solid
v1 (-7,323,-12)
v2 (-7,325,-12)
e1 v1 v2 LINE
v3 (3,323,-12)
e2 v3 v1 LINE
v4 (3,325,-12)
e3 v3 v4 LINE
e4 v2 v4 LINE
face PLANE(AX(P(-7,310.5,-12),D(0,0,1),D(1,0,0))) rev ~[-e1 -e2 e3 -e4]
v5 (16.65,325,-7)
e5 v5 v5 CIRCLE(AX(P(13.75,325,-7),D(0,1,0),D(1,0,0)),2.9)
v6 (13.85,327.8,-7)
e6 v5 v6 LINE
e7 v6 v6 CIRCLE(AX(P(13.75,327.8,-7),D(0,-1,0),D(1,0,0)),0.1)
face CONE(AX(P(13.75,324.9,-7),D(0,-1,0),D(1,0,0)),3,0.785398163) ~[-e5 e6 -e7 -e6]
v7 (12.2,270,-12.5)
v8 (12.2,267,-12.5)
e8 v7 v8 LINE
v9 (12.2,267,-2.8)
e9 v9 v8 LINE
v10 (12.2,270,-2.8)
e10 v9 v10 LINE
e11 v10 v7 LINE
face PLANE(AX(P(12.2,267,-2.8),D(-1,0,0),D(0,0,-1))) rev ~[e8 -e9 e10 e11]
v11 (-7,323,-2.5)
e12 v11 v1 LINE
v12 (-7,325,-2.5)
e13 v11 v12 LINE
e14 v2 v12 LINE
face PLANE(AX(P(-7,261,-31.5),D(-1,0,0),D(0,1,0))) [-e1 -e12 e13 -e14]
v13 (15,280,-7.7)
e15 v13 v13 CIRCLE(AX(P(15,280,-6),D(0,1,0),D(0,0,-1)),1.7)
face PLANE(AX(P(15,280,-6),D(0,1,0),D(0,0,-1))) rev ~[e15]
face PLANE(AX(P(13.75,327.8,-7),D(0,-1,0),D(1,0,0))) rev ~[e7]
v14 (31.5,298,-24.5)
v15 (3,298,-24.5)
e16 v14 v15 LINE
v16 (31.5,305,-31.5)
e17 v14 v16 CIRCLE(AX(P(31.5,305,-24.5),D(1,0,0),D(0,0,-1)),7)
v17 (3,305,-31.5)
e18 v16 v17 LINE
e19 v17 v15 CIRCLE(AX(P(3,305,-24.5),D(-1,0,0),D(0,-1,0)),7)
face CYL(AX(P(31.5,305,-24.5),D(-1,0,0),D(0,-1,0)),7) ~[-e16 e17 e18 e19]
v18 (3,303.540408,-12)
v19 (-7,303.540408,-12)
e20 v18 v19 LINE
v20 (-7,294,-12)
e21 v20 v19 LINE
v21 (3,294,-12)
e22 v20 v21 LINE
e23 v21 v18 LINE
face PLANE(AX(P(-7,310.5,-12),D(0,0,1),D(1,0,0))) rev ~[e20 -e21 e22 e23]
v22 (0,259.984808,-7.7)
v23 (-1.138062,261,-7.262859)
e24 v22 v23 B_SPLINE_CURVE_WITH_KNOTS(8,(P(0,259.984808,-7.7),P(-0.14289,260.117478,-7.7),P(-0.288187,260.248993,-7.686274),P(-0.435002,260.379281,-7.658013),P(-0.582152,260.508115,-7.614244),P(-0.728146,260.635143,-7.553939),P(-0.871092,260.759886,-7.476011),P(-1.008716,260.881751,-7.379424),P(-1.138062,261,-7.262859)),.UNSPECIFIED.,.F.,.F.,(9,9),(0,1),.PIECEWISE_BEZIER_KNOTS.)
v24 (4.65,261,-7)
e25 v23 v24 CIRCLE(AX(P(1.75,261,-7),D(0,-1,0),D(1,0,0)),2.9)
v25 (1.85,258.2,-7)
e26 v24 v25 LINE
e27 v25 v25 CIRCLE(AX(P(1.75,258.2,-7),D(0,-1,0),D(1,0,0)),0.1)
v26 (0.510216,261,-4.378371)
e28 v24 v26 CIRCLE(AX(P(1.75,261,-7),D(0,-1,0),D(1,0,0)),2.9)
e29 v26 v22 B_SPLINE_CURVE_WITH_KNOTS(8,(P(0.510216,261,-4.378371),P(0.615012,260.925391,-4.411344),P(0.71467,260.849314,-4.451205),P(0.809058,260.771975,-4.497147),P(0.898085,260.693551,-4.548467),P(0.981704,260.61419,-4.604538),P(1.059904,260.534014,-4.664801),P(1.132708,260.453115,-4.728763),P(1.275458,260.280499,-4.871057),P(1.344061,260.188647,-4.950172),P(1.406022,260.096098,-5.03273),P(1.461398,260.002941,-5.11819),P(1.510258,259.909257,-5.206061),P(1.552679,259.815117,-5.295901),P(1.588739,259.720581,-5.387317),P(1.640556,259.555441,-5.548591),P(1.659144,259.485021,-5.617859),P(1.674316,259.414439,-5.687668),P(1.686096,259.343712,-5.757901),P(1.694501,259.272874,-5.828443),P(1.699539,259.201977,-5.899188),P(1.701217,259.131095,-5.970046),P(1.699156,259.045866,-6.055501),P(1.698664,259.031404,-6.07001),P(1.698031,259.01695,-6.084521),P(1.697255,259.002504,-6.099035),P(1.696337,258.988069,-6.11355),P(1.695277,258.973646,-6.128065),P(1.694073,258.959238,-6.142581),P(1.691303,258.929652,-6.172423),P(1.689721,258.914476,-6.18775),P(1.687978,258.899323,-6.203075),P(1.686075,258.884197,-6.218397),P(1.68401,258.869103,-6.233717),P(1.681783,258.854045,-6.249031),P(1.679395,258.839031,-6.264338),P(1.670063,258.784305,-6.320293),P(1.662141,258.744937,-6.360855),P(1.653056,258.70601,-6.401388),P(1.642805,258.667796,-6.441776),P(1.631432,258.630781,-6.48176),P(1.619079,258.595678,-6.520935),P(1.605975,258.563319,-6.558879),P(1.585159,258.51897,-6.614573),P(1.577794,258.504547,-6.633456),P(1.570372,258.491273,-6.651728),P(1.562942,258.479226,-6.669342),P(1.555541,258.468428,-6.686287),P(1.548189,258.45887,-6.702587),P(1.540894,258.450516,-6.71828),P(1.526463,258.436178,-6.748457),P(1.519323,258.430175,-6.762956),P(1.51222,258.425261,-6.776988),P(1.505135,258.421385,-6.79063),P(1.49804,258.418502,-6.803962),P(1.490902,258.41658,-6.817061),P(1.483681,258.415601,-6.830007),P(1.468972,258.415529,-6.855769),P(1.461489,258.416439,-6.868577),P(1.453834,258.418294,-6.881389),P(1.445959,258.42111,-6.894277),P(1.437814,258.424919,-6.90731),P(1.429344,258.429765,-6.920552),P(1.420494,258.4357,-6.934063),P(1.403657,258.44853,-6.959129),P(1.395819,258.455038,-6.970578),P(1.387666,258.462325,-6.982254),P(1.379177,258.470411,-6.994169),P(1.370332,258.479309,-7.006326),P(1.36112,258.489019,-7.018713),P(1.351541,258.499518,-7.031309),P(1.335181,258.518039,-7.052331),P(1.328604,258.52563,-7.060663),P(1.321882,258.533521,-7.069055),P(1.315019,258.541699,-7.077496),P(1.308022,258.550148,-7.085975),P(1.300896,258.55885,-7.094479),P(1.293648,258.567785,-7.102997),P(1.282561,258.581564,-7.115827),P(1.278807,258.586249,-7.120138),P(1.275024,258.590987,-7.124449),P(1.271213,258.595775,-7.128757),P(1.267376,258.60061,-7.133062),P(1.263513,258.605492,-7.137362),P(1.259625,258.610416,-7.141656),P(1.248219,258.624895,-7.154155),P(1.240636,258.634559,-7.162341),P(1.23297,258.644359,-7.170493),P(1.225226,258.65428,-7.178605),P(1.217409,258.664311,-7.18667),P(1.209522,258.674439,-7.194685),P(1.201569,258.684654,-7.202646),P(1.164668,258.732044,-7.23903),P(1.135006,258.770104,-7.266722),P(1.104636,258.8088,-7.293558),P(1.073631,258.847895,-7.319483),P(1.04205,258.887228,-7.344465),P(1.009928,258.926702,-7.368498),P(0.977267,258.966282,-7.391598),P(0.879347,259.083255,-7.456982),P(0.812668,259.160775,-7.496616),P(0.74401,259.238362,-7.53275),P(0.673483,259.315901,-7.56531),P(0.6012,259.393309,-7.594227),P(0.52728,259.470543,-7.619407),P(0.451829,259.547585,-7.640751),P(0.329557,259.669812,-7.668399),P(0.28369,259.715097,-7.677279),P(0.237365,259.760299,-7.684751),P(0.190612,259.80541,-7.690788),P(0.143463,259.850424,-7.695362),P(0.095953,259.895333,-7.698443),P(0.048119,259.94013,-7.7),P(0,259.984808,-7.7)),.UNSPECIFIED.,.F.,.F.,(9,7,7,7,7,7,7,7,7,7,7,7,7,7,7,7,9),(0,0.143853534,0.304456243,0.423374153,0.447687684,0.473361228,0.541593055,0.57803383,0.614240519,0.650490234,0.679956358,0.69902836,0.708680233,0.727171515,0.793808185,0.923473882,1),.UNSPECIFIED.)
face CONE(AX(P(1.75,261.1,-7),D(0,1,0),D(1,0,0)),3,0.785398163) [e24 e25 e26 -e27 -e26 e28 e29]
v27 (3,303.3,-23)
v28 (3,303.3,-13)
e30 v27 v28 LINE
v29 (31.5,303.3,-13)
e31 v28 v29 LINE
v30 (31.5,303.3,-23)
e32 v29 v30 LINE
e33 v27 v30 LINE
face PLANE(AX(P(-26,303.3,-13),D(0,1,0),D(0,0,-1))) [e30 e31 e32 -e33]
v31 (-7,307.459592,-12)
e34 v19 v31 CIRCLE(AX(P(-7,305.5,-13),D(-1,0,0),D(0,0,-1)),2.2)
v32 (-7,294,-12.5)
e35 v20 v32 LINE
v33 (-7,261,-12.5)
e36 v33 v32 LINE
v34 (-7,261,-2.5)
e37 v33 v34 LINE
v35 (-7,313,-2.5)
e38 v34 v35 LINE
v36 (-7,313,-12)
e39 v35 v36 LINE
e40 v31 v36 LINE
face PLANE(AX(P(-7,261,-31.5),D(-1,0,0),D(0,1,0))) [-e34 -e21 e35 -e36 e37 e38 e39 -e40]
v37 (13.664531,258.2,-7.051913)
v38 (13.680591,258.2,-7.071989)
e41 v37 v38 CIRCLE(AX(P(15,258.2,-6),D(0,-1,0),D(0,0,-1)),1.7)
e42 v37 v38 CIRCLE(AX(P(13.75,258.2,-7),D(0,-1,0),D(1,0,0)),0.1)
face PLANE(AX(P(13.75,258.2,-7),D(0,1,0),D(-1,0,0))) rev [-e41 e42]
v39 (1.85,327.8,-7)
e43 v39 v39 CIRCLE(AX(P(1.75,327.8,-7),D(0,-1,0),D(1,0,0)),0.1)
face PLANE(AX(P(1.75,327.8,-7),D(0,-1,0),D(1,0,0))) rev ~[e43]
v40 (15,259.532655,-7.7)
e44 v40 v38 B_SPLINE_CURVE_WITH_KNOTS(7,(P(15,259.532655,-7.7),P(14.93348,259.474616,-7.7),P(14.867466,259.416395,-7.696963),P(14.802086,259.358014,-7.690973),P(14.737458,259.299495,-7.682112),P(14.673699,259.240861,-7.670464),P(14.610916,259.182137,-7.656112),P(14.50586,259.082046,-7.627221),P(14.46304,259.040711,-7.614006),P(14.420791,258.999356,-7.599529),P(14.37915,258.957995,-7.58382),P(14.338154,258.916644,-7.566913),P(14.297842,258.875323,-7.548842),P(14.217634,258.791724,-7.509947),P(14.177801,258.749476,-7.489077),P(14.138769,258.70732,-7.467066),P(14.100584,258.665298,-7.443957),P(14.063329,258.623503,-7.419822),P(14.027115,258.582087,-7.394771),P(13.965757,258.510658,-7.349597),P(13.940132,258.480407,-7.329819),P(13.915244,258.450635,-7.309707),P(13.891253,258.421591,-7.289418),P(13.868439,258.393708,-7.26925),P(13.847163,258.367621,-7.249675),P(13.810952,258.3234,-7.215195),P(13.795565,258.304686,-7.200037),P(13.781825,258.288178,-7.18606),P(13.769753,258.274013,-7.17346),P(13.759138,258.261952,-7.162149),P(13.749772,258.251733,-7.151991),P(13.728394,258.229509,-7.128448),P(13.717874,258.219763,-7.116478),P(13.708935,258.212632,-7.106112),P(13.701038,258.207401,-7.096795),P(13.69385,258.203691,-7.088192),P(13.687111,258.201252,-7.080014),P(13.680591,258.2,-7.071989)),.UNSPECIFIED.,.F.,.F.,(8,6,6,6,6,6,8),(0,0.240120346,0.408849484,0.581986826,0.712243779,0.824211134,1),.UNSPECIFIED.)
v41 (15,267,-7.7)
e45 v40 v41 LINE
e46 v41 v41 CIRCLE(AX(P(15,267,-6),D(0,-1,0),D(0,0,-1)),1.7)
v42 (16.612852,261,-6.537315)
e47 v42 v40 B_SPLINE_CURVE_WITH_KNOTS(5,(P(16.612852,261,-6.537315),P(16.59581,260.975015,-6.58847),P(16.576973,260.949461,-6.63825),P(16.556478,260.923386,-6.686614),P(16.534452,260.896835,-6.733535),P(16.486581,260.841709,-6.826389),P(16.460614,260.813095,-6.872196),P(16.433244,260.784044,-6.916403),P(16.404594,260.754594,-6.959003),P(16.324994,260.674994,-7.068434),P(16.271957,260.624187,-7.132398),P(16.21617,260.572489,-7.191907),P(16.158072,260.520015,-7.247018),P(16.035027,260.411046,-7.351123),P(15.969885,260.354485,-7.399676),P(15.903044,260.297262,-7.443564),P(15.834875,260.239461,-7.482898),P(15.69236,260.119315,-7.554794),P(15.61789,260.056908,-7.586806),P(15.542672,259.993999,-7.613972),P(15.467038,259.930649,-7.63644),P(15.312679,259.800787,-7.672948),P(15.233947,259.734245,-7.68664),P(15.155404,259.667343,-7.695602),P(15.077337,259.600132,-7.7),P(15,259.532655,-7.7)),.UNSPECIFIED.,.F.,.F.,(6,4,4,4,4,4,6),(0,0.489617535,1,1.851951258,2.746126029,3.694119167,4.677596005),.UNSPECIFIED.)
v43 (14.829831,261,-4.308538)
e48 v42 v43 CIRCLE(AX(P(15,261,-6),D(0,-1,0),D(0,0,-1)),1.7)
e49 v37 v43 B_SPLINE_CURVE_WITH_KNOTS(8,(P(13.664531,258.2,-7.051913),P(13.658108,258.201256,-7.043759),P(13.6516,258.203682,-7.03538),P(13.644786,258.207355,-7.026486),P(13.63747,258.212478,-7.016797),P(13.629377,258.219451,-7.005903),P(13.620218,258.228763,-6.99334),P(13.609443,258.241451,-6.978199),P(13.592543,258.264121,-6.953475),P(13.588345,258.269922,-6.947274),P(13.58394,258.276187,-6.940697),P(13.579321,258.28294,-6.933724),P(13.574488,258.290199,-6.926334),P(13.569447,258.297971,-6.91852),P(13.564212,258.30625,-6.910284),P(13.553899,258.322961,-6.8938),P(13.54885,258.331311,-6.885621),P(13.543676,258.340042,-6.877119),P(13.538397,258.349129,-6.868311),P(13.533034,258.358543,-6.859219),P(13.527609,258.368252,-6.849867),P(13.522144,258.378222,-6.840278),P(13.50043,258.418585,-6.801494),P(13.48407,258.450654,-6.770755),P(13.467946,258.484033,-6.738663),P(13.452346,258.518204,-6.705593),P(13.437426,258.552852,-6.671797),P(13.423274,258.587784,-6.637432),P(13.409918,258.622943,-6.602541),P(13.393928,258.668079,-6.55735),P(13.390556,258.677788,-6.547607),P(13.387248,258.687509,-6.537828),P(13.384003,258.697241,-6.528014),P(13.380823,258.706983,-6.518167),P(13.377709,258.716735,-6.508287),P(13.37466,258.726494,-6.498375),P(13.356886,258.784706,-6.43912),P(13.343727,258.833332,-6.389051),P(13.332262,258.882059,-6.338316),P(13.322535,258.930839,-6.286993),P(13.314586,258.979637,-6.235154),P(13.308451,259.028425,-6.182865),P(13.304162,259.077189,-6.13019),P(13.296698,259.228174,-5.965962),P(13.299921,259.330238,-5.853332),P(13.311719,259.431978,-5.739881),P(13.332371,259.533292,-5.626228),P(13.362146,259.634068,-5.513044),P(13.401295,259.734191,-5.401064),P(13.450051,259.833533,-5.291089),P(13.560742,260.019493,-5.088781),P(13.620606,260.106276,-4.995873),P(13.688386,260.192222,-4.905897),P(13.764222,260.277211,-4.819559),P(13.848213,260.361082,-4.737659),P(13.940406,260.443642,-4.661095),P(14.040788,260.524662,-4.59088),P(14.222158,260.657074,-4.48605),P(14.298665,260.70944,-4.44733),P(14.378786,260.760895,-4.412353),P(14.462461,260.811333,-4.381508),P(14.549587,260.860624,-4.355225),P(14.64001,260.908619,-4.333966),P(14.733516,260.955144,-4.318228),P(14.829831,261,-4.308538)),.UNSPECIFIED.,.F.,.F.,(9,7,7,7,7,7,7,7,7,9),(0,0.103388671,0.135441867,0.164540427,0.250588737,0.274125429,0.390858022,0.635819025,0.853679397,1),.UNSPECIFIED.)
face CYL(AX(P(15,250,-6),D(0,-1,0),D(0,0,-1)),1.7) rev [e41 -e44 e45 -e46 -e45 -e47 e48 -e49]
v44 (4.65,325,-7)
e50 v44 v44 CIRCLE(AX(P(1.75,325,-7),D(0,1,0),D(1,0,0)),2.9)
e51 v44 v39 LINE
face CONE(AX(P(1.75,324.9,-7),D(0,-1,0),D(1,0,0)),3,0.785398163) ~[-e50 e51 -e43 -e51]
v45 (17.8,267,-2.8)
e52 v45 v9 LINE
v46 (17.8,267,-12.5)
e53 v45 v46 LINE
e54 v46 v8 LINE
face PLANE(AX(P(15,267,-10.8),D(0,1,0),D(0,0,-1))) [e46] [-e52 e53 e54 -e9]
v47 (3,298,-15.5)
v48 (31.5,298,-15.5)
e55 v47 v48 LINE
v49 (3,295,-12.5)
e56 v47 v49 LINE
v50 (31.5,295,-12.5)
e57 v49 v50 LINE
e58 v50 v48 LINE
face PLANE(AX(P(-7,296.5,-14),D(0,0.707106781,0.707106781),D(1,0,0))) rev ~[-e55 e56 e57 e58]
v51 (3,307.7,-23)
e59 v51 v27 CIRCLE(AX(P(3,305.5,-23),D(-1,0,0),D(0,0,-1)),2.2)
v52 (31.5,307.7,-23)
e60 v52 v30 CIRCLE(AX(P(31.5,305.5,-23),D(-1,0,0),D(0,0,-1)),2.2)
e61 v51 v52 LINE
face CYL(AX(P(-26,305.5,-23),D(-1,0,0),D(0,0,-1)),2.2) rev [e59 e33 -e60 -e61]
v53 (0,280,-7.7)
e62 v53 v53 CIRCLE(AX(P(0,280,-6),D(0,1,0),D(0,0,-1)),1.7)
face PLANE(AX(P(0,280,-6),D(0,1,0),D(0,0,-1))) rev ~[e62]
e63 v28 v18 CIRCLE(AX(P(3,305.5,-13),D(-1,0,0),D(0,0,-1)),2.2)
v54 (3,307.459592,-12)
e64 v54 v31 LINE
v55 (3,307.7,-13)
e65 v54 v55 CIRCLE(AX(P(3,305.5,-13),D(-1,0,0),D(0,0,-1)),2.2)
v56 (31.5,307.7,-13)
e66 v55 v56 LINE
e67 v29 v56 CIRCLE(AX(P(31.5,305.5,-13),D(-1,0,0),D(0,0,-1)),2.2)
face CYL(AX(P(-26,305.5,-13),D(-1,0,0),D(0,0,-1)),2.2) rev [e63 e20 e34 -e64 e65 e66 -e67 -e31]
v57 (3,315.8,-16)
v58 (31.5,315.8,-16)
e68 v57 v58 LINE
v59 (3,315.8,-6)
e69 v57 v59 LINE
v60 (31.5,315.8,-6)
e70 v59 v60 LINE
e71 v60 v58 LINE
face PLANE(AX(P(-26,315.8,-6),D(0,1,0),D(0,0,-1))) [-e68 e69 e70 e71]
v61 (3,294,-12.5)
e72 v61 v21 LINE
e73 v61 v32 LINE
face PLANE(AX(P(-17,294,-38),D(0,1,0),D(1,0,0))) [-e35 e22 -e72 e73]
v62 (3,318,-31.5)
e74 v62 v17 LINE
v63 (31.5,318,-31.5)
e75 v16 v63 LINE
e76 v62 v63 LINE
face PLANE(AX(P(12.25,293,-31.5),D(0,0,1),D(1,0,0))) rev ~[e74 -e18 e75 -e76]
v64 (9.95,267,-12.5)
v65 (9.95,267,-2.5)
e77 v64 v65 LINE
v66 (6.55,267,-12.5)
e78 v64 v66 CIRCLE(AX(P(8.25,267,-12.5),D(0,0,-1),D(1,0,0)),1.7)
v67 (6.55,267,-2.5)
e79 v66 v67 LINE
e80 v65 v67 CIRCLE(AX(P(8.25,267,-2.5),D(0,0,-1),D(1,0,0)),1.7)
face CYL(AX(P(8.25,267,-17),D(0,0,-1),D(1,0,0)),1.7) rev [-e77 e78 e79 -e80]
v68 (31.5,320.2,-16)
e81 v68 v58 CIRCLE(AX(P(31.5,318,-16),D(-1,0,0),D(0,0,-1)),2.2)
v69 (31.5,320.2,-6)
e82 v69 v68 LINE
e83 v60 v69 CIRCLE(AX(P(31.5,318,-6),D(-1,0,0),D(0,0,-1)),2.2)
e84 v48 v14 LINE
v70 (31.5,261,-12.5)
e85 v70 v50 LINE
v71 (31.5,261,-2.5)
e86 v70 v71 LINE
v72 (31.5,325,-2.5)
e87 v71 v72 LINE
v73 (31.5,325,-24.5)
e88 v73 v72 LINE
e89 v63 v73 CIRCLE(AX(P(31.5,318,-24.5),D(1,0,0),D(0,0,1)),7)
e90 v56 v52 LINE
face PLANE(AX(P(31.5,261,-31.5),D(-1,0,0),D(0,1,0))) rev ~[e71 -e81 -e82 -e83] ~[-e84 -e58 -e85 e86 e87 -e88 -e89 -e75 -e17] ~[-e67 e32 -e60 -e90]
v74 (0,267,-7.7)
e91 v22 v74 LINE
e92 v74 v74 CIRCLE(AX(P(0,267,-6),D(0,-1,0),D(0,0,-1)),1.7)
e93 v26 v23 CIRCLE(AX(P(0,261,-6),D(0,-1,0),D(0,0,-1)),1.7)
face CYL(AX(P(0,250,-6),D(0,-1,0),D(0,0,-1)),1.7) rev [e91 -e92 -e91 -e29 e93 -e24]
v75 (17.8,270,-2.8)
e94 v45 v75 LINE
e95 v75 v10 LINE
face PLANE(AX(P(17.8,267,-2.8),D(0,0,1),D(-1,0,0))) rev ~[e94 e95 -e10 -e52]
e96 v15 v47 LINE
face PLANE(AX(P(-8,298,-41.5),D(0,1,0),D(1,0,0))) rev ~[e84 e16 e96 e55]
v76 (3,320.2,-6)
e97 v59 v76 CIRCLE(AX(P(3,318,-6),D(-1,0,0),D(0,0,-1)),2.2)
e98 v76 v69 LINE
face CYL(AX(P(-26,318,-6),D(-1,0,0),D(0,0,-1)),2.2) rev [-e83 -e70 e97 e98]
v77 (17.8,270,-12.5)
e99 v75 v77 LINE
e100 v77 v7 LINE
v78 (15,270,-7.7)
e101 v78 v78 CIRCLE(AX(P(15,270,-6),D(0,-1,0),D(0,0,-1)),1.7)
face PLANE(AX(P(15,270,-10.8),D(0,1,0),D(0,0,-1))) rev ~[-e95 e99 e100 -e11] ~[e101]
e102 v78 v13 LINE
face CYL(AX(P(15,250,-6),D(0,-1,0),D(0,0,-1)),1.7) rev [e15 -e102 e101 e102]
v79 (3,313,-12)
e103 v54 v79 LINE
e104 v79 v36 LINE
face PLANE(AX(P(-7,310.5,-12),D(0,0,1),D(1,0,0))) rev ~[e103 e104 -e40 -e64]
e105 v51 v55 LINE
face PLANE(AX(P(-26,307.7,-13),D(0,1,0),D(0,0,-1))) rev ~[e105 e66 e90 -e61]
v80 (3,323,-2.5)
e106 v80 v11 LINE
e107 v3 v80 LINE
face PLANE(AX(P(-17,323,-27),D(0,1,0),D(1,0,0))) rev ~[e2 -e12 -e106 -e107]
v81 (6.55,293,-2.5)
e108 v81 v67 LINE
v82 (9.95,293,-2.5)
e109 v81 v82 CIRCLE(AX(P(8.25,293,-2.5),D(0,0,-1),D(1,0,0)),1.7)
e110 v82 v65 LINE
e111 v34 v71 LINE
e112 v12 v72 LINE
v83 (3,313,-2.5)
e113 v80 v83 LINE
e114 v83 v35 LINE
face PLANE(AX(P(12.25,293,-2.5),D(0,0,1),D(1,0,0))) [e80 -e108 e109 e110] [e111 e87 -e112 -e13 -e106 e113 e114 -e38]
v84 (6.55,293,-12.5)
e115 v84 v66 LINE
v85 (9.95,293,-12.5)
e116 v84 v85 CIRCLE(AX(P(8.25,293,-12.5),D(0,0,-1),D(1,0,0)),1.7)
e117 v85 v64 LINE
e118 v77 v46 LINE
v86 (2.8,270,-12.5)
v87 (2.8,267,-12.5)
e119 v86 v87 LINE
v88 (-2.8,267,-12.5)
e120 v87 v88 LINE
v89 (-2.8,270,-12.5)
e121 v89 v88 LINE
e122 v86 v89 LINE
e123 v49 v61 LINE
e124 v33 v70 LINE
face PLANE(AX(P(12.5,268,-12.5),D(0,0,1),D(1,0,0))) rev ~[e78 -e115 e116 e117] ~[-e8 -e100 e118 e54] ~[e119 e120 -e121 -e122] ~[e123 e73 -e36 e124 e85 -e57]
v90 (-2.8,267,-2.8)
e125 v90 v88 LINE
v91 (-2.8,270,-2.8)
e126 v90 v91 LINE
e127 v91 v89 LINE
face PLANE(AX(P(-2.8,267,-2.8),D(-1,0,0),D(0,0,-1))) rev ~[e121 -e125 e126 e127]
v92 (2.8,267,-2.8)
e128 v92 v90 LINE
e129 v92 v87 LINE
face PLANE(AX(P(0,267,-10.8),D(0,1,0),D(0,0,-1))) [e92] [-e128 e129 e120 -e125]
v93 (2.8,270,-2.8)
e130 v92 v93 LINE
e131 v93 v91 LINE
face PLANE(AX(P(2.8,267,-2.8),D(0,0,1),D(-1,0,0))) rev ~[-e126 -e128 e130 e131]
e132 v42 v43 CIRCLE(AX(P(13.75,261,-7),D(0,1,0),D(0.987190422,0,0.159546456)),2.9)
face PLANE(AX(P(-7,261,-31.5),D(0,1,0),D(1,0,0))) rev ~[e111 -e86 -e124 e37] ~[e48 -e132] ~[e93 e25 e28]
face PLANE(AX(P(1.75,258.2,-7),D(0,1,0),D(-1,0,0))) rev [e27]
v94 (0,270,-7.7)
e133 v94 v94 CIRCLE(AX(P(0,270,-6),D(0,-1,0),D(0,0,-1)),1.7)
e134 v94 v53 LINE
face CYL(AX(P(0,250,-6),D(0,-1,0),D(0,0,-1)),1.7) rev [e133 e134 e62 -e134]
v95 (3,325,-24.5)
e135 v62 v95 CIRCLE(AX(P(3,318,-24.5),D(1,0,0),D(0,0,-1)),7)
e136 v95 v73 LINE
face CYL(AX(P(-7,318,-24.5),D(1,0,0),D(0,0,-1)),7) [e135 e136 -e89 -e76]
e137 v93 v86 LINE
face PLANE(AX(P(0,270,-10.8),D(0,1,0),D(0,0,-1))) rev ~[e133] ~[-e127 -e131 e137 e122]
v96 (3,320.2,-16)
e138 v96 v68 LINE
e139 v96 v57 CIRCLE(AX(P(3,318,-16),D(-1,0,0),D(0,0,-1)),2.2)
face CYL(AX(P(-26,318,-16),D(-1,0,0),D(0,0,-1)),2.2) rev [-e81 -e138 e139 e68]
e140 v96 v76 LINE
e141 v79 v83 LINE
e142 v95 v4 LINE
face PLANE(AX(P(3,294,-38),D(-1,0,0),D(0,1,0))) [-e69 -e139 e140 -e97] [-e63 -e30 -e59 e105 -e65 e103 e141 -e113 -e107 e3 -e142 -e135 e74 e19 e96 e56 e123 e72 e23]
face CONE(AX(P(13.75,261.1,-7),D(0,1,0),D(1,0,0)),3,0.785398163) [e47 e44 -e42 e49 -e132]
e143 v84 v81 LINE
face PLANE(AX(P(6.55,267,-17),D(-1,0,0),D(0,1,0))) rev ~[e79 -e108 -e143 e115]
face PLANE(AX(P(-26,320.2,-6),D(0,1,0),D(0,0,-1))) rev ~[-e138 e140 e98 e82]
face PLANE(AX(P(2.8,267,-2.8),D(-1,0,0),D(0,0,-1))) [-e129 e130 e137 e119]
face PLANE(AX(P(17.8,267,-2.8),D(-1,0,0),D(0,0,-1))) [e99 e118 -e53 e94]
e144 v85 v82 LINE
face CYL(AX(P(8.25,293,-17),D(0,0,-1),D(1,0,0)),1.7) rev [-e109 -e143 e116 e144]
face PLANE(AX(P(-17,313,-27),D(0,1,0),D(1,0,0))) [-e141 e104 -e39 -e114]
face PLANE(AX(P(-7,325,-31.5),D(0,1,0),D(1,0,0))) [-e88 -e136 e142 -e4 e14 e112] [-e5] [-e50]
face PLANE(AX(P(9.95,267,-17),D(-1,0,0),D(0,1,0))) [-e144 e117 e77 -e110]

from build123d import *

# Parameters (mm, degrees)
BOX005009018_W            = 20
BOX005009018_H            = 10
BOX005009018_DEPTH        = 26
BOX005009017_W            = 20
BOX005009017_H            = 33
BOX005009017_DEPTH        = 26
CYLINDER027_R             = 3
CYLINDER027_DEPTH         = 4
BOX005009016_W            = 16
BOX005009016_H            = 5.6
BOX005009016_DEPTH        = 3
CYLINDER026_R             = 1.7
CYLINDER026_DEPTH         = 30
FUSION024_PITCH_ANGLE     = 90
FUSION024_PLACEMENT_ANGLE = 90
FUSION023_PITCH_ANGLE     = 90
FUSION023_PLACEMENT_ANGLE = 90
CYLINDER025_R             = 1.7
CYLINDER025_DEPTH         = 20
BOX005009015_W            = 3.4
BOX005009015_H            = 26
BOX005009015_DEPTH        = 20
CYLINDER024_R             = 1.7
CYLINDER024_DEPTH         = 20
BOX005009009_W            = 10
BOX005009009_H            = 4.4
BOX005009009_DEPTH        = 70
CYLINDER015_R             = 2.2
CYLINDER015_DEPTH         = 70
CYLINDER014_R             = 2.2
CYLINDER014_DEPTH         = 70
FUSION009_PITCH_ANGLE     = 90
FUSION011_PITCH_ANGLE     = 90
CYLINDER022_R             = 3
CYLINDER022_DEPTH         = 6
CYLINDER022_ROLL_ANGLE    = 90
CHAMFER014_SIZE           = 2.9
CHAMFER012_SIZE           = 2.9
CHAMFER010_SIZE           = 2.9
CHAMFER008_SIZE           = 2.9
BOX005009011_W            = 41
BOX005009011_H            = 60
BOX005009011_DEPTH        = 29
BOX005009010_W            = 38.5
BOX005009010_H            = 64
BOX005009010_DEPTH        = 29
CHAMFER026_SIZE           = 3
FILLET003_R               = 7
FILLET004_R               = 7


with BuildPart() as cube005:
    # Box005009018 → Box005009018 (new body)
    with BuildSketch(Plane(origin=(-17, 313, -27), x_dir=(1, 0, 0), z_dir=(0, 0, 1))):
        with Locations((10, 5)):
            Rectangle(BOX005009018_W, BOX005009018_H)
    extrude(amount=BOX005009018_DEPTH)


with BuildPart() as fusion027:
    # Box005009017 → Box005009017 (new body)
    with BuildSketch(Plane(origin=(-17, 294, -38), x_dir=(1, 0, 0), z_dir=(0, 0, 1))):
        with Locations((10, 16.5)):
            Rectangle(BOX005009017_W, BOX005009017_H)
    extrude(amount=BOX005009017_DEPTH)

    # Fusion027: union Cube005
    add(cube005.part)


with BuildPart() as cylinder018:
    # Cylinder027 → Cylinder027 (new body)
    with BuildSketch(Plane.XY):
        Circle(CYLINDER027_R)
    extrude(amount=CYLINDER027_DEPTH)


with BuildPart() as cube003:
    # Box005009016 → Box005009016 (new body)
    with BuildSketch(Plane(origin=(-3.2, -2.8, 18), x_dir=(1, 0, 0), z_dir=(0, 0, 1))):
        with Locations((8, 2.8)):
            Rectangle(BOX005009016_W, BOX005009016_H)
    extrude(amount=BOX005009016_DEPTH)


with BuildPart() as cylinder017:
    # Cylinder026 → Cylinder026 (new body)
    with BuildSketch(Plane.XY.offset(1)):
        Circle(CYLINDER026_R)
    extrude(amount=CYLINDER026_DEPTH)


with BuildPart() as m3_cavity001:
    # Fusion024 base: copy of Cylinder017
    add(cylinder017.part)

    # Fusion024: union Cylinder018, Cube003
    add(cylinder018.part)
    add(cube003.part)


with BuildPart() as m3_cavity001_1:
    # Fusion024 pitch: moved
    add(m3_cavity001.part.rotate(Axis((0, 0, 0), (0, 1, 0)), FUSION024_PITCH_ANGLE))


with BuildPart() as m3_cavity001_2:
    # Fusion024 placement: moved
    add(m3_cavity001_1.part.moved(Location((15, 249, -6))).rotate(Axis((15, 249, -6), (0, 0, 1)), FUSION024_PLACEMENT_ANGLE))


with BuildPart() as m3_cavity:
    # Fusion023 base: copy of Cylinder017
    add(cylinder017.part)

    # Fusion023: union Cylinder018, Cube003
    add(cylinder018.part)
    add(cube003.part)


with BuildPart() as m3_cavity_1:
    # Fusion023 pitch: moved
    add(m3_cavity.part.rotate(Axis((0, 0, 0), (0, 1, 0)), FUSION023_PITCH_ANGLE))


with BuildPart() as m3_cavity_2:
    # Fusion023 placement: moved
    add(m3_cavity_1.part.moved(Location((0, 249, -6))).rotate(Axis((0, 249, -6), (0, 0, 1)), FUSION023_PLACEMENT_ANGLE))


with BuildPart() as cylinder016:
    # Cylinder025 → Cylinder025 (new body)
    with BuildSketch(Plane(origin=(8.25, 293, -17), x_dir=(1, 0, 0), z_dir=(0, 0, 1))):
        Circle(CYLINDER025_R)
    extrude(amount=CYLINDER025_DEPTH)


with BuildPart() as cube002:
    # Box005009015 → Box005009015 (new body)
    with BuildSketch(Plane(origin=(6.55, 267, -17), x_dir=(1, 0, 0), z_dir=(0, 0, 1))):
        with Locations((1.7, 13)):
            Rectangle(BOX005009015_W, BOX005009015_H)
    extrude(amount=BOX005009015_DEPTH)


with BuildPart() as slider_screw_slot:
    # Cylinder024 → Cylinder024 (new body)
    with BuildSketch(Plane(origin=(8.25, 267, -17), x_dir=(1, 0, 0), z_dir=(0, 0, 1))):
        Circle(CYLINDER024_R)
    extrude(amount=CYLINDER024_DEPTH)

    # Fusion022: union Cylinder016, Cube002
    add(cylinder016.part)
    add(cube002.part)


with BuildPart() as cube001:
    # Box005009009 → Box005009009 (new body)
    with BuildSketch(Plane(origin=(0, -2.2, 0), x_dir=(1, 0, 0), z_dir=(0, 0, 1))):
        with Locations((5, 2.2)):
            Rectangle(BOX005009009_W, BOX005009009_H)
    extrude(amount=BOX005009009_DEPTH)


with BuildPart() as cylinder014:
    # Cylinder015 → Cylinder015 (new body)
    with BuildSketch(Plane(origin=(10, 0, 0), x_dir=(1, 0, 0), z_dir=(0, 0, 1))):
        Circle(CYLINDER015_R)
    extrude(amount=CYLINDER015_DEPTH)


with BuildPart() as cylinder013:
    # Cylinder014 → Cylinder014 (new body)
    with BuildSketch(Plane.XY):
        Circle(CYLINDER014_R)
    extrude(amount=CYLINDER014_DEPTH)


with BuildPart() as m4_slot001:
    # Fusion009 base: copy of Cylinder013
    add(cylinder013.part)

    # Fusion009: union Cube001, Cylinder014
    add(cube001.part)
    add(cylinder014.part)


with BuildPart() as m4_slot001_1:
    # Fusion009 pitch: moved
    add(m4_slot001.part.rotate(Axis((0, 0, 0), (0, 1, 0)), FUSION009_PITCH_ANGLE))


with BuildPart() as m4_slot001_2:
    # Fusion009 placement: moved
    add(m4_slot001_1.part.moved(Location((-26, 305.5, -13))))


with BuildPart() as fusion019:
    # Fusion011 base: copy of Cylinder013
    add(cylinder013.part)

    # Fusion011: union Cube001, Cylinder014
    add(cube001.part)
    add(cylinder014.part)


with BuildPart() as fusion019_1:
    # Fusion011 pitch: moved
    add(fusion019.part.rotate(Axis((0, 0, 0), (0, 1, 0)), FUSION011_PITCH_ANGLE))


with BuildPart() as fusion019_2:
    # Fusion011 placement: moved
    add(fusion019_1.part.moved(Location((-26, 318, -6))))

    # Fusion019: union M4 slot001
    add(m4_slot001_2.part)


with BuildPart() as lug:
    # Cylinder022 → Cylinder022 (new body)
    with BuildSketch(Plane.XY):
        Circle(CYLINDER022_R)
    extrude(amount=CYLINDER022_DEPTH)


with BuildPart() as lug_1:
    # Cylinder022 roll: moved
    add(lug.part.rotate(Axis((0, 0, 0), (1, 0, 0)), CYLINDER022_ROLL_ANGLE))


with BuildPart() as lug_2:
    # Cylinder022 placement: moved
    add(lug_1.part.moved(Location((7.75, 328.8, -7))))


with BuildPart() as chamfer014:
    # Chamfer014 base: copy of lug
    add(lug_2.part)

    # Chamfer014
    chamfer014_edges = [chamfer014.edges().sort_by_distance(p)[0] for p in [
        (4.75, 328.8, -7),
    ]]
    chamfer(chamfer014_edges, length=CHAMFER014_SIZE)


with BuildPart() as chamfer014_1:
    # Chamfer014 placement: moved
    add(chamfer014.part.moved(Location((6, -1, 0))))


with BuildPart() as part_mirroring002:
    # Part__Mirroring002: instance of Chamfer014
    add(chamfer014_1.part.mirror(Plane(origin=(0, 200, 0), x_dir=(1, 0, 0), z_dir=(0, 1, 0))))


with BuildPart() as chamfer012:
    # Chamfer012 base: copy of lug
    add(lug_2.part)

    # Chamfer012
    chamfer012_edges = [chamfer012.edges().sort_by_distance(p)[0] for p in [
        (4.75, 328.8, -7),
    ]]
    chamfer(chamfer012_edges, length=CHAMFER012_SIZE)


with BuildPart() as chamfer012_1:
    # Chamfer012 placement: moved
    add(chamfer012.part.moved(Location((-6, -1, 0))))


with BuildPart() as fusion016:
    # Part__Mirroring: instance of Chamfer012
    add(chamfer012_1.part.mirror(Plane(origin=(0, 200, 0), x_dir=(1, 0, 0), z_dir=(0, 1, 0))))

    # Fusion016: union Part__Mirroring002
    add(part_mirroring002.part)


with BuildPart() as fusion016_1:
    # Fusion016 placement: moved
    add(fusion016.part.moved(Location((0, 186, 0))))


with BuildPart() as chamfer010:
    # Chamfer010 base: copy of lug
    add(lug_2.part)

    # Chamfer010
    chamfer010_edges = [chamfer010.edges().sort_by_distance(p)[0] for p in [
        (4.75, 328.8, -7),
    ]]
    chamfer(chamfer010_edges, length=CHAMFER010_SIZE)


with BuildPart() as chamfer010_1:
    # Chamfer010 placement: moved
    add(chamfer010.part.moved(Location((6, -1, 0))))


with BuildPart() as lugs:
    # Chamfer008 base: copy of lug
    add(lug_2.part)

    # Chamfer008
    chamfer008_edges = [lugs.edges().sort_by_distance(p)[0] for p in [
        (4.75, 328.8, -7),
    ]]
    chamfer(chamfer008_edges, length=CHAMFER008_SIZE)


with BuildPart() as lugs_1:
    # Chamfer008 placement: moved
    add(lugs.part.moved(Location((-6, -1, 0))))

    # Fusion014: union Chamfer010
    add(chamfer010_1.part)


with BuildPart() as slider002:
    # Box005009011 → Box005009011 (new body)
    with BuildSketch(Plane(origin=(-8, 238, -41.5), x_dir=(1, 0, 0), z_dir=(0, 0, 1))):
        with Locations((20.5, 30)):
            Rectangle(BOX005009011_W, BOX005009011_H)
    extrude(amount=BOX005009011_DEPTH)


with BuildPart() as slider_support:
    # Box005009010 → Box005009010 (new body)
    with BuildSketch(Plane(origin=(-7, 261, -31.5), x_dir=(1, 0, 0), z_dir=(0, 0, 1))):
        with Locations((19.25, 32)):
            Rectangle(BOX005009010_W, BOX005009010_H)
    extrude(amount=BOX005009010_DEPTH)

    # Cut015: cut slider002
    add(slider002.part, mode=Mode.SUBTRACT)

    # Fusion015: union lugs
    add(lugs_1.part)

    # Fusion018: union Fusion016
    add(fusion016_1.part)

    # Cut018: cut Fusion019
    add(fusion019_2.part, mode=Mode.SUBTRACT)

    # Cut022: cut slider-screw-slot
    add(slider_screw_slot.part, mode=Mode.SUBTRACT)

    # Chamfer026
    chamfer026_edges = [slider_support.edges().sort_by_distance(p)[0] for p in [
        (12.25, 298, -12.5),
    ]]
    chamfer(chamfer026_edges, length=CHAMFER026_SIZE)

    # Fillet003
    fillet003_edges = [slider_support.edges().sort_by_distance(p)[0] for p in [
        (12.25, 298, -31.5),
    ]]
    fillet(fillet003_edges, radius=FILLET003_R)

    # Fillet004
    fillet004_edges = [slider_support.edges().sort_by_distance(p)[0] for p in [
        (12.25, 325, -31.5),
    ]]
    fillet(fillet004_edges, radius=FILLET004_R)

    # Cut023: cut M3-cavity
    add(m3_cavity_2.part, mode=Mode.SUBTRACT)

    # Cut024: cut M3-cavity001
    add(m3_cavity001_2.part, mode=Mode.SUBTRACT)

    # Cut027: cut Fusion027
    add(fusion027.part, mode=Mode.SUBTRACT)


solid = slider_support.part
